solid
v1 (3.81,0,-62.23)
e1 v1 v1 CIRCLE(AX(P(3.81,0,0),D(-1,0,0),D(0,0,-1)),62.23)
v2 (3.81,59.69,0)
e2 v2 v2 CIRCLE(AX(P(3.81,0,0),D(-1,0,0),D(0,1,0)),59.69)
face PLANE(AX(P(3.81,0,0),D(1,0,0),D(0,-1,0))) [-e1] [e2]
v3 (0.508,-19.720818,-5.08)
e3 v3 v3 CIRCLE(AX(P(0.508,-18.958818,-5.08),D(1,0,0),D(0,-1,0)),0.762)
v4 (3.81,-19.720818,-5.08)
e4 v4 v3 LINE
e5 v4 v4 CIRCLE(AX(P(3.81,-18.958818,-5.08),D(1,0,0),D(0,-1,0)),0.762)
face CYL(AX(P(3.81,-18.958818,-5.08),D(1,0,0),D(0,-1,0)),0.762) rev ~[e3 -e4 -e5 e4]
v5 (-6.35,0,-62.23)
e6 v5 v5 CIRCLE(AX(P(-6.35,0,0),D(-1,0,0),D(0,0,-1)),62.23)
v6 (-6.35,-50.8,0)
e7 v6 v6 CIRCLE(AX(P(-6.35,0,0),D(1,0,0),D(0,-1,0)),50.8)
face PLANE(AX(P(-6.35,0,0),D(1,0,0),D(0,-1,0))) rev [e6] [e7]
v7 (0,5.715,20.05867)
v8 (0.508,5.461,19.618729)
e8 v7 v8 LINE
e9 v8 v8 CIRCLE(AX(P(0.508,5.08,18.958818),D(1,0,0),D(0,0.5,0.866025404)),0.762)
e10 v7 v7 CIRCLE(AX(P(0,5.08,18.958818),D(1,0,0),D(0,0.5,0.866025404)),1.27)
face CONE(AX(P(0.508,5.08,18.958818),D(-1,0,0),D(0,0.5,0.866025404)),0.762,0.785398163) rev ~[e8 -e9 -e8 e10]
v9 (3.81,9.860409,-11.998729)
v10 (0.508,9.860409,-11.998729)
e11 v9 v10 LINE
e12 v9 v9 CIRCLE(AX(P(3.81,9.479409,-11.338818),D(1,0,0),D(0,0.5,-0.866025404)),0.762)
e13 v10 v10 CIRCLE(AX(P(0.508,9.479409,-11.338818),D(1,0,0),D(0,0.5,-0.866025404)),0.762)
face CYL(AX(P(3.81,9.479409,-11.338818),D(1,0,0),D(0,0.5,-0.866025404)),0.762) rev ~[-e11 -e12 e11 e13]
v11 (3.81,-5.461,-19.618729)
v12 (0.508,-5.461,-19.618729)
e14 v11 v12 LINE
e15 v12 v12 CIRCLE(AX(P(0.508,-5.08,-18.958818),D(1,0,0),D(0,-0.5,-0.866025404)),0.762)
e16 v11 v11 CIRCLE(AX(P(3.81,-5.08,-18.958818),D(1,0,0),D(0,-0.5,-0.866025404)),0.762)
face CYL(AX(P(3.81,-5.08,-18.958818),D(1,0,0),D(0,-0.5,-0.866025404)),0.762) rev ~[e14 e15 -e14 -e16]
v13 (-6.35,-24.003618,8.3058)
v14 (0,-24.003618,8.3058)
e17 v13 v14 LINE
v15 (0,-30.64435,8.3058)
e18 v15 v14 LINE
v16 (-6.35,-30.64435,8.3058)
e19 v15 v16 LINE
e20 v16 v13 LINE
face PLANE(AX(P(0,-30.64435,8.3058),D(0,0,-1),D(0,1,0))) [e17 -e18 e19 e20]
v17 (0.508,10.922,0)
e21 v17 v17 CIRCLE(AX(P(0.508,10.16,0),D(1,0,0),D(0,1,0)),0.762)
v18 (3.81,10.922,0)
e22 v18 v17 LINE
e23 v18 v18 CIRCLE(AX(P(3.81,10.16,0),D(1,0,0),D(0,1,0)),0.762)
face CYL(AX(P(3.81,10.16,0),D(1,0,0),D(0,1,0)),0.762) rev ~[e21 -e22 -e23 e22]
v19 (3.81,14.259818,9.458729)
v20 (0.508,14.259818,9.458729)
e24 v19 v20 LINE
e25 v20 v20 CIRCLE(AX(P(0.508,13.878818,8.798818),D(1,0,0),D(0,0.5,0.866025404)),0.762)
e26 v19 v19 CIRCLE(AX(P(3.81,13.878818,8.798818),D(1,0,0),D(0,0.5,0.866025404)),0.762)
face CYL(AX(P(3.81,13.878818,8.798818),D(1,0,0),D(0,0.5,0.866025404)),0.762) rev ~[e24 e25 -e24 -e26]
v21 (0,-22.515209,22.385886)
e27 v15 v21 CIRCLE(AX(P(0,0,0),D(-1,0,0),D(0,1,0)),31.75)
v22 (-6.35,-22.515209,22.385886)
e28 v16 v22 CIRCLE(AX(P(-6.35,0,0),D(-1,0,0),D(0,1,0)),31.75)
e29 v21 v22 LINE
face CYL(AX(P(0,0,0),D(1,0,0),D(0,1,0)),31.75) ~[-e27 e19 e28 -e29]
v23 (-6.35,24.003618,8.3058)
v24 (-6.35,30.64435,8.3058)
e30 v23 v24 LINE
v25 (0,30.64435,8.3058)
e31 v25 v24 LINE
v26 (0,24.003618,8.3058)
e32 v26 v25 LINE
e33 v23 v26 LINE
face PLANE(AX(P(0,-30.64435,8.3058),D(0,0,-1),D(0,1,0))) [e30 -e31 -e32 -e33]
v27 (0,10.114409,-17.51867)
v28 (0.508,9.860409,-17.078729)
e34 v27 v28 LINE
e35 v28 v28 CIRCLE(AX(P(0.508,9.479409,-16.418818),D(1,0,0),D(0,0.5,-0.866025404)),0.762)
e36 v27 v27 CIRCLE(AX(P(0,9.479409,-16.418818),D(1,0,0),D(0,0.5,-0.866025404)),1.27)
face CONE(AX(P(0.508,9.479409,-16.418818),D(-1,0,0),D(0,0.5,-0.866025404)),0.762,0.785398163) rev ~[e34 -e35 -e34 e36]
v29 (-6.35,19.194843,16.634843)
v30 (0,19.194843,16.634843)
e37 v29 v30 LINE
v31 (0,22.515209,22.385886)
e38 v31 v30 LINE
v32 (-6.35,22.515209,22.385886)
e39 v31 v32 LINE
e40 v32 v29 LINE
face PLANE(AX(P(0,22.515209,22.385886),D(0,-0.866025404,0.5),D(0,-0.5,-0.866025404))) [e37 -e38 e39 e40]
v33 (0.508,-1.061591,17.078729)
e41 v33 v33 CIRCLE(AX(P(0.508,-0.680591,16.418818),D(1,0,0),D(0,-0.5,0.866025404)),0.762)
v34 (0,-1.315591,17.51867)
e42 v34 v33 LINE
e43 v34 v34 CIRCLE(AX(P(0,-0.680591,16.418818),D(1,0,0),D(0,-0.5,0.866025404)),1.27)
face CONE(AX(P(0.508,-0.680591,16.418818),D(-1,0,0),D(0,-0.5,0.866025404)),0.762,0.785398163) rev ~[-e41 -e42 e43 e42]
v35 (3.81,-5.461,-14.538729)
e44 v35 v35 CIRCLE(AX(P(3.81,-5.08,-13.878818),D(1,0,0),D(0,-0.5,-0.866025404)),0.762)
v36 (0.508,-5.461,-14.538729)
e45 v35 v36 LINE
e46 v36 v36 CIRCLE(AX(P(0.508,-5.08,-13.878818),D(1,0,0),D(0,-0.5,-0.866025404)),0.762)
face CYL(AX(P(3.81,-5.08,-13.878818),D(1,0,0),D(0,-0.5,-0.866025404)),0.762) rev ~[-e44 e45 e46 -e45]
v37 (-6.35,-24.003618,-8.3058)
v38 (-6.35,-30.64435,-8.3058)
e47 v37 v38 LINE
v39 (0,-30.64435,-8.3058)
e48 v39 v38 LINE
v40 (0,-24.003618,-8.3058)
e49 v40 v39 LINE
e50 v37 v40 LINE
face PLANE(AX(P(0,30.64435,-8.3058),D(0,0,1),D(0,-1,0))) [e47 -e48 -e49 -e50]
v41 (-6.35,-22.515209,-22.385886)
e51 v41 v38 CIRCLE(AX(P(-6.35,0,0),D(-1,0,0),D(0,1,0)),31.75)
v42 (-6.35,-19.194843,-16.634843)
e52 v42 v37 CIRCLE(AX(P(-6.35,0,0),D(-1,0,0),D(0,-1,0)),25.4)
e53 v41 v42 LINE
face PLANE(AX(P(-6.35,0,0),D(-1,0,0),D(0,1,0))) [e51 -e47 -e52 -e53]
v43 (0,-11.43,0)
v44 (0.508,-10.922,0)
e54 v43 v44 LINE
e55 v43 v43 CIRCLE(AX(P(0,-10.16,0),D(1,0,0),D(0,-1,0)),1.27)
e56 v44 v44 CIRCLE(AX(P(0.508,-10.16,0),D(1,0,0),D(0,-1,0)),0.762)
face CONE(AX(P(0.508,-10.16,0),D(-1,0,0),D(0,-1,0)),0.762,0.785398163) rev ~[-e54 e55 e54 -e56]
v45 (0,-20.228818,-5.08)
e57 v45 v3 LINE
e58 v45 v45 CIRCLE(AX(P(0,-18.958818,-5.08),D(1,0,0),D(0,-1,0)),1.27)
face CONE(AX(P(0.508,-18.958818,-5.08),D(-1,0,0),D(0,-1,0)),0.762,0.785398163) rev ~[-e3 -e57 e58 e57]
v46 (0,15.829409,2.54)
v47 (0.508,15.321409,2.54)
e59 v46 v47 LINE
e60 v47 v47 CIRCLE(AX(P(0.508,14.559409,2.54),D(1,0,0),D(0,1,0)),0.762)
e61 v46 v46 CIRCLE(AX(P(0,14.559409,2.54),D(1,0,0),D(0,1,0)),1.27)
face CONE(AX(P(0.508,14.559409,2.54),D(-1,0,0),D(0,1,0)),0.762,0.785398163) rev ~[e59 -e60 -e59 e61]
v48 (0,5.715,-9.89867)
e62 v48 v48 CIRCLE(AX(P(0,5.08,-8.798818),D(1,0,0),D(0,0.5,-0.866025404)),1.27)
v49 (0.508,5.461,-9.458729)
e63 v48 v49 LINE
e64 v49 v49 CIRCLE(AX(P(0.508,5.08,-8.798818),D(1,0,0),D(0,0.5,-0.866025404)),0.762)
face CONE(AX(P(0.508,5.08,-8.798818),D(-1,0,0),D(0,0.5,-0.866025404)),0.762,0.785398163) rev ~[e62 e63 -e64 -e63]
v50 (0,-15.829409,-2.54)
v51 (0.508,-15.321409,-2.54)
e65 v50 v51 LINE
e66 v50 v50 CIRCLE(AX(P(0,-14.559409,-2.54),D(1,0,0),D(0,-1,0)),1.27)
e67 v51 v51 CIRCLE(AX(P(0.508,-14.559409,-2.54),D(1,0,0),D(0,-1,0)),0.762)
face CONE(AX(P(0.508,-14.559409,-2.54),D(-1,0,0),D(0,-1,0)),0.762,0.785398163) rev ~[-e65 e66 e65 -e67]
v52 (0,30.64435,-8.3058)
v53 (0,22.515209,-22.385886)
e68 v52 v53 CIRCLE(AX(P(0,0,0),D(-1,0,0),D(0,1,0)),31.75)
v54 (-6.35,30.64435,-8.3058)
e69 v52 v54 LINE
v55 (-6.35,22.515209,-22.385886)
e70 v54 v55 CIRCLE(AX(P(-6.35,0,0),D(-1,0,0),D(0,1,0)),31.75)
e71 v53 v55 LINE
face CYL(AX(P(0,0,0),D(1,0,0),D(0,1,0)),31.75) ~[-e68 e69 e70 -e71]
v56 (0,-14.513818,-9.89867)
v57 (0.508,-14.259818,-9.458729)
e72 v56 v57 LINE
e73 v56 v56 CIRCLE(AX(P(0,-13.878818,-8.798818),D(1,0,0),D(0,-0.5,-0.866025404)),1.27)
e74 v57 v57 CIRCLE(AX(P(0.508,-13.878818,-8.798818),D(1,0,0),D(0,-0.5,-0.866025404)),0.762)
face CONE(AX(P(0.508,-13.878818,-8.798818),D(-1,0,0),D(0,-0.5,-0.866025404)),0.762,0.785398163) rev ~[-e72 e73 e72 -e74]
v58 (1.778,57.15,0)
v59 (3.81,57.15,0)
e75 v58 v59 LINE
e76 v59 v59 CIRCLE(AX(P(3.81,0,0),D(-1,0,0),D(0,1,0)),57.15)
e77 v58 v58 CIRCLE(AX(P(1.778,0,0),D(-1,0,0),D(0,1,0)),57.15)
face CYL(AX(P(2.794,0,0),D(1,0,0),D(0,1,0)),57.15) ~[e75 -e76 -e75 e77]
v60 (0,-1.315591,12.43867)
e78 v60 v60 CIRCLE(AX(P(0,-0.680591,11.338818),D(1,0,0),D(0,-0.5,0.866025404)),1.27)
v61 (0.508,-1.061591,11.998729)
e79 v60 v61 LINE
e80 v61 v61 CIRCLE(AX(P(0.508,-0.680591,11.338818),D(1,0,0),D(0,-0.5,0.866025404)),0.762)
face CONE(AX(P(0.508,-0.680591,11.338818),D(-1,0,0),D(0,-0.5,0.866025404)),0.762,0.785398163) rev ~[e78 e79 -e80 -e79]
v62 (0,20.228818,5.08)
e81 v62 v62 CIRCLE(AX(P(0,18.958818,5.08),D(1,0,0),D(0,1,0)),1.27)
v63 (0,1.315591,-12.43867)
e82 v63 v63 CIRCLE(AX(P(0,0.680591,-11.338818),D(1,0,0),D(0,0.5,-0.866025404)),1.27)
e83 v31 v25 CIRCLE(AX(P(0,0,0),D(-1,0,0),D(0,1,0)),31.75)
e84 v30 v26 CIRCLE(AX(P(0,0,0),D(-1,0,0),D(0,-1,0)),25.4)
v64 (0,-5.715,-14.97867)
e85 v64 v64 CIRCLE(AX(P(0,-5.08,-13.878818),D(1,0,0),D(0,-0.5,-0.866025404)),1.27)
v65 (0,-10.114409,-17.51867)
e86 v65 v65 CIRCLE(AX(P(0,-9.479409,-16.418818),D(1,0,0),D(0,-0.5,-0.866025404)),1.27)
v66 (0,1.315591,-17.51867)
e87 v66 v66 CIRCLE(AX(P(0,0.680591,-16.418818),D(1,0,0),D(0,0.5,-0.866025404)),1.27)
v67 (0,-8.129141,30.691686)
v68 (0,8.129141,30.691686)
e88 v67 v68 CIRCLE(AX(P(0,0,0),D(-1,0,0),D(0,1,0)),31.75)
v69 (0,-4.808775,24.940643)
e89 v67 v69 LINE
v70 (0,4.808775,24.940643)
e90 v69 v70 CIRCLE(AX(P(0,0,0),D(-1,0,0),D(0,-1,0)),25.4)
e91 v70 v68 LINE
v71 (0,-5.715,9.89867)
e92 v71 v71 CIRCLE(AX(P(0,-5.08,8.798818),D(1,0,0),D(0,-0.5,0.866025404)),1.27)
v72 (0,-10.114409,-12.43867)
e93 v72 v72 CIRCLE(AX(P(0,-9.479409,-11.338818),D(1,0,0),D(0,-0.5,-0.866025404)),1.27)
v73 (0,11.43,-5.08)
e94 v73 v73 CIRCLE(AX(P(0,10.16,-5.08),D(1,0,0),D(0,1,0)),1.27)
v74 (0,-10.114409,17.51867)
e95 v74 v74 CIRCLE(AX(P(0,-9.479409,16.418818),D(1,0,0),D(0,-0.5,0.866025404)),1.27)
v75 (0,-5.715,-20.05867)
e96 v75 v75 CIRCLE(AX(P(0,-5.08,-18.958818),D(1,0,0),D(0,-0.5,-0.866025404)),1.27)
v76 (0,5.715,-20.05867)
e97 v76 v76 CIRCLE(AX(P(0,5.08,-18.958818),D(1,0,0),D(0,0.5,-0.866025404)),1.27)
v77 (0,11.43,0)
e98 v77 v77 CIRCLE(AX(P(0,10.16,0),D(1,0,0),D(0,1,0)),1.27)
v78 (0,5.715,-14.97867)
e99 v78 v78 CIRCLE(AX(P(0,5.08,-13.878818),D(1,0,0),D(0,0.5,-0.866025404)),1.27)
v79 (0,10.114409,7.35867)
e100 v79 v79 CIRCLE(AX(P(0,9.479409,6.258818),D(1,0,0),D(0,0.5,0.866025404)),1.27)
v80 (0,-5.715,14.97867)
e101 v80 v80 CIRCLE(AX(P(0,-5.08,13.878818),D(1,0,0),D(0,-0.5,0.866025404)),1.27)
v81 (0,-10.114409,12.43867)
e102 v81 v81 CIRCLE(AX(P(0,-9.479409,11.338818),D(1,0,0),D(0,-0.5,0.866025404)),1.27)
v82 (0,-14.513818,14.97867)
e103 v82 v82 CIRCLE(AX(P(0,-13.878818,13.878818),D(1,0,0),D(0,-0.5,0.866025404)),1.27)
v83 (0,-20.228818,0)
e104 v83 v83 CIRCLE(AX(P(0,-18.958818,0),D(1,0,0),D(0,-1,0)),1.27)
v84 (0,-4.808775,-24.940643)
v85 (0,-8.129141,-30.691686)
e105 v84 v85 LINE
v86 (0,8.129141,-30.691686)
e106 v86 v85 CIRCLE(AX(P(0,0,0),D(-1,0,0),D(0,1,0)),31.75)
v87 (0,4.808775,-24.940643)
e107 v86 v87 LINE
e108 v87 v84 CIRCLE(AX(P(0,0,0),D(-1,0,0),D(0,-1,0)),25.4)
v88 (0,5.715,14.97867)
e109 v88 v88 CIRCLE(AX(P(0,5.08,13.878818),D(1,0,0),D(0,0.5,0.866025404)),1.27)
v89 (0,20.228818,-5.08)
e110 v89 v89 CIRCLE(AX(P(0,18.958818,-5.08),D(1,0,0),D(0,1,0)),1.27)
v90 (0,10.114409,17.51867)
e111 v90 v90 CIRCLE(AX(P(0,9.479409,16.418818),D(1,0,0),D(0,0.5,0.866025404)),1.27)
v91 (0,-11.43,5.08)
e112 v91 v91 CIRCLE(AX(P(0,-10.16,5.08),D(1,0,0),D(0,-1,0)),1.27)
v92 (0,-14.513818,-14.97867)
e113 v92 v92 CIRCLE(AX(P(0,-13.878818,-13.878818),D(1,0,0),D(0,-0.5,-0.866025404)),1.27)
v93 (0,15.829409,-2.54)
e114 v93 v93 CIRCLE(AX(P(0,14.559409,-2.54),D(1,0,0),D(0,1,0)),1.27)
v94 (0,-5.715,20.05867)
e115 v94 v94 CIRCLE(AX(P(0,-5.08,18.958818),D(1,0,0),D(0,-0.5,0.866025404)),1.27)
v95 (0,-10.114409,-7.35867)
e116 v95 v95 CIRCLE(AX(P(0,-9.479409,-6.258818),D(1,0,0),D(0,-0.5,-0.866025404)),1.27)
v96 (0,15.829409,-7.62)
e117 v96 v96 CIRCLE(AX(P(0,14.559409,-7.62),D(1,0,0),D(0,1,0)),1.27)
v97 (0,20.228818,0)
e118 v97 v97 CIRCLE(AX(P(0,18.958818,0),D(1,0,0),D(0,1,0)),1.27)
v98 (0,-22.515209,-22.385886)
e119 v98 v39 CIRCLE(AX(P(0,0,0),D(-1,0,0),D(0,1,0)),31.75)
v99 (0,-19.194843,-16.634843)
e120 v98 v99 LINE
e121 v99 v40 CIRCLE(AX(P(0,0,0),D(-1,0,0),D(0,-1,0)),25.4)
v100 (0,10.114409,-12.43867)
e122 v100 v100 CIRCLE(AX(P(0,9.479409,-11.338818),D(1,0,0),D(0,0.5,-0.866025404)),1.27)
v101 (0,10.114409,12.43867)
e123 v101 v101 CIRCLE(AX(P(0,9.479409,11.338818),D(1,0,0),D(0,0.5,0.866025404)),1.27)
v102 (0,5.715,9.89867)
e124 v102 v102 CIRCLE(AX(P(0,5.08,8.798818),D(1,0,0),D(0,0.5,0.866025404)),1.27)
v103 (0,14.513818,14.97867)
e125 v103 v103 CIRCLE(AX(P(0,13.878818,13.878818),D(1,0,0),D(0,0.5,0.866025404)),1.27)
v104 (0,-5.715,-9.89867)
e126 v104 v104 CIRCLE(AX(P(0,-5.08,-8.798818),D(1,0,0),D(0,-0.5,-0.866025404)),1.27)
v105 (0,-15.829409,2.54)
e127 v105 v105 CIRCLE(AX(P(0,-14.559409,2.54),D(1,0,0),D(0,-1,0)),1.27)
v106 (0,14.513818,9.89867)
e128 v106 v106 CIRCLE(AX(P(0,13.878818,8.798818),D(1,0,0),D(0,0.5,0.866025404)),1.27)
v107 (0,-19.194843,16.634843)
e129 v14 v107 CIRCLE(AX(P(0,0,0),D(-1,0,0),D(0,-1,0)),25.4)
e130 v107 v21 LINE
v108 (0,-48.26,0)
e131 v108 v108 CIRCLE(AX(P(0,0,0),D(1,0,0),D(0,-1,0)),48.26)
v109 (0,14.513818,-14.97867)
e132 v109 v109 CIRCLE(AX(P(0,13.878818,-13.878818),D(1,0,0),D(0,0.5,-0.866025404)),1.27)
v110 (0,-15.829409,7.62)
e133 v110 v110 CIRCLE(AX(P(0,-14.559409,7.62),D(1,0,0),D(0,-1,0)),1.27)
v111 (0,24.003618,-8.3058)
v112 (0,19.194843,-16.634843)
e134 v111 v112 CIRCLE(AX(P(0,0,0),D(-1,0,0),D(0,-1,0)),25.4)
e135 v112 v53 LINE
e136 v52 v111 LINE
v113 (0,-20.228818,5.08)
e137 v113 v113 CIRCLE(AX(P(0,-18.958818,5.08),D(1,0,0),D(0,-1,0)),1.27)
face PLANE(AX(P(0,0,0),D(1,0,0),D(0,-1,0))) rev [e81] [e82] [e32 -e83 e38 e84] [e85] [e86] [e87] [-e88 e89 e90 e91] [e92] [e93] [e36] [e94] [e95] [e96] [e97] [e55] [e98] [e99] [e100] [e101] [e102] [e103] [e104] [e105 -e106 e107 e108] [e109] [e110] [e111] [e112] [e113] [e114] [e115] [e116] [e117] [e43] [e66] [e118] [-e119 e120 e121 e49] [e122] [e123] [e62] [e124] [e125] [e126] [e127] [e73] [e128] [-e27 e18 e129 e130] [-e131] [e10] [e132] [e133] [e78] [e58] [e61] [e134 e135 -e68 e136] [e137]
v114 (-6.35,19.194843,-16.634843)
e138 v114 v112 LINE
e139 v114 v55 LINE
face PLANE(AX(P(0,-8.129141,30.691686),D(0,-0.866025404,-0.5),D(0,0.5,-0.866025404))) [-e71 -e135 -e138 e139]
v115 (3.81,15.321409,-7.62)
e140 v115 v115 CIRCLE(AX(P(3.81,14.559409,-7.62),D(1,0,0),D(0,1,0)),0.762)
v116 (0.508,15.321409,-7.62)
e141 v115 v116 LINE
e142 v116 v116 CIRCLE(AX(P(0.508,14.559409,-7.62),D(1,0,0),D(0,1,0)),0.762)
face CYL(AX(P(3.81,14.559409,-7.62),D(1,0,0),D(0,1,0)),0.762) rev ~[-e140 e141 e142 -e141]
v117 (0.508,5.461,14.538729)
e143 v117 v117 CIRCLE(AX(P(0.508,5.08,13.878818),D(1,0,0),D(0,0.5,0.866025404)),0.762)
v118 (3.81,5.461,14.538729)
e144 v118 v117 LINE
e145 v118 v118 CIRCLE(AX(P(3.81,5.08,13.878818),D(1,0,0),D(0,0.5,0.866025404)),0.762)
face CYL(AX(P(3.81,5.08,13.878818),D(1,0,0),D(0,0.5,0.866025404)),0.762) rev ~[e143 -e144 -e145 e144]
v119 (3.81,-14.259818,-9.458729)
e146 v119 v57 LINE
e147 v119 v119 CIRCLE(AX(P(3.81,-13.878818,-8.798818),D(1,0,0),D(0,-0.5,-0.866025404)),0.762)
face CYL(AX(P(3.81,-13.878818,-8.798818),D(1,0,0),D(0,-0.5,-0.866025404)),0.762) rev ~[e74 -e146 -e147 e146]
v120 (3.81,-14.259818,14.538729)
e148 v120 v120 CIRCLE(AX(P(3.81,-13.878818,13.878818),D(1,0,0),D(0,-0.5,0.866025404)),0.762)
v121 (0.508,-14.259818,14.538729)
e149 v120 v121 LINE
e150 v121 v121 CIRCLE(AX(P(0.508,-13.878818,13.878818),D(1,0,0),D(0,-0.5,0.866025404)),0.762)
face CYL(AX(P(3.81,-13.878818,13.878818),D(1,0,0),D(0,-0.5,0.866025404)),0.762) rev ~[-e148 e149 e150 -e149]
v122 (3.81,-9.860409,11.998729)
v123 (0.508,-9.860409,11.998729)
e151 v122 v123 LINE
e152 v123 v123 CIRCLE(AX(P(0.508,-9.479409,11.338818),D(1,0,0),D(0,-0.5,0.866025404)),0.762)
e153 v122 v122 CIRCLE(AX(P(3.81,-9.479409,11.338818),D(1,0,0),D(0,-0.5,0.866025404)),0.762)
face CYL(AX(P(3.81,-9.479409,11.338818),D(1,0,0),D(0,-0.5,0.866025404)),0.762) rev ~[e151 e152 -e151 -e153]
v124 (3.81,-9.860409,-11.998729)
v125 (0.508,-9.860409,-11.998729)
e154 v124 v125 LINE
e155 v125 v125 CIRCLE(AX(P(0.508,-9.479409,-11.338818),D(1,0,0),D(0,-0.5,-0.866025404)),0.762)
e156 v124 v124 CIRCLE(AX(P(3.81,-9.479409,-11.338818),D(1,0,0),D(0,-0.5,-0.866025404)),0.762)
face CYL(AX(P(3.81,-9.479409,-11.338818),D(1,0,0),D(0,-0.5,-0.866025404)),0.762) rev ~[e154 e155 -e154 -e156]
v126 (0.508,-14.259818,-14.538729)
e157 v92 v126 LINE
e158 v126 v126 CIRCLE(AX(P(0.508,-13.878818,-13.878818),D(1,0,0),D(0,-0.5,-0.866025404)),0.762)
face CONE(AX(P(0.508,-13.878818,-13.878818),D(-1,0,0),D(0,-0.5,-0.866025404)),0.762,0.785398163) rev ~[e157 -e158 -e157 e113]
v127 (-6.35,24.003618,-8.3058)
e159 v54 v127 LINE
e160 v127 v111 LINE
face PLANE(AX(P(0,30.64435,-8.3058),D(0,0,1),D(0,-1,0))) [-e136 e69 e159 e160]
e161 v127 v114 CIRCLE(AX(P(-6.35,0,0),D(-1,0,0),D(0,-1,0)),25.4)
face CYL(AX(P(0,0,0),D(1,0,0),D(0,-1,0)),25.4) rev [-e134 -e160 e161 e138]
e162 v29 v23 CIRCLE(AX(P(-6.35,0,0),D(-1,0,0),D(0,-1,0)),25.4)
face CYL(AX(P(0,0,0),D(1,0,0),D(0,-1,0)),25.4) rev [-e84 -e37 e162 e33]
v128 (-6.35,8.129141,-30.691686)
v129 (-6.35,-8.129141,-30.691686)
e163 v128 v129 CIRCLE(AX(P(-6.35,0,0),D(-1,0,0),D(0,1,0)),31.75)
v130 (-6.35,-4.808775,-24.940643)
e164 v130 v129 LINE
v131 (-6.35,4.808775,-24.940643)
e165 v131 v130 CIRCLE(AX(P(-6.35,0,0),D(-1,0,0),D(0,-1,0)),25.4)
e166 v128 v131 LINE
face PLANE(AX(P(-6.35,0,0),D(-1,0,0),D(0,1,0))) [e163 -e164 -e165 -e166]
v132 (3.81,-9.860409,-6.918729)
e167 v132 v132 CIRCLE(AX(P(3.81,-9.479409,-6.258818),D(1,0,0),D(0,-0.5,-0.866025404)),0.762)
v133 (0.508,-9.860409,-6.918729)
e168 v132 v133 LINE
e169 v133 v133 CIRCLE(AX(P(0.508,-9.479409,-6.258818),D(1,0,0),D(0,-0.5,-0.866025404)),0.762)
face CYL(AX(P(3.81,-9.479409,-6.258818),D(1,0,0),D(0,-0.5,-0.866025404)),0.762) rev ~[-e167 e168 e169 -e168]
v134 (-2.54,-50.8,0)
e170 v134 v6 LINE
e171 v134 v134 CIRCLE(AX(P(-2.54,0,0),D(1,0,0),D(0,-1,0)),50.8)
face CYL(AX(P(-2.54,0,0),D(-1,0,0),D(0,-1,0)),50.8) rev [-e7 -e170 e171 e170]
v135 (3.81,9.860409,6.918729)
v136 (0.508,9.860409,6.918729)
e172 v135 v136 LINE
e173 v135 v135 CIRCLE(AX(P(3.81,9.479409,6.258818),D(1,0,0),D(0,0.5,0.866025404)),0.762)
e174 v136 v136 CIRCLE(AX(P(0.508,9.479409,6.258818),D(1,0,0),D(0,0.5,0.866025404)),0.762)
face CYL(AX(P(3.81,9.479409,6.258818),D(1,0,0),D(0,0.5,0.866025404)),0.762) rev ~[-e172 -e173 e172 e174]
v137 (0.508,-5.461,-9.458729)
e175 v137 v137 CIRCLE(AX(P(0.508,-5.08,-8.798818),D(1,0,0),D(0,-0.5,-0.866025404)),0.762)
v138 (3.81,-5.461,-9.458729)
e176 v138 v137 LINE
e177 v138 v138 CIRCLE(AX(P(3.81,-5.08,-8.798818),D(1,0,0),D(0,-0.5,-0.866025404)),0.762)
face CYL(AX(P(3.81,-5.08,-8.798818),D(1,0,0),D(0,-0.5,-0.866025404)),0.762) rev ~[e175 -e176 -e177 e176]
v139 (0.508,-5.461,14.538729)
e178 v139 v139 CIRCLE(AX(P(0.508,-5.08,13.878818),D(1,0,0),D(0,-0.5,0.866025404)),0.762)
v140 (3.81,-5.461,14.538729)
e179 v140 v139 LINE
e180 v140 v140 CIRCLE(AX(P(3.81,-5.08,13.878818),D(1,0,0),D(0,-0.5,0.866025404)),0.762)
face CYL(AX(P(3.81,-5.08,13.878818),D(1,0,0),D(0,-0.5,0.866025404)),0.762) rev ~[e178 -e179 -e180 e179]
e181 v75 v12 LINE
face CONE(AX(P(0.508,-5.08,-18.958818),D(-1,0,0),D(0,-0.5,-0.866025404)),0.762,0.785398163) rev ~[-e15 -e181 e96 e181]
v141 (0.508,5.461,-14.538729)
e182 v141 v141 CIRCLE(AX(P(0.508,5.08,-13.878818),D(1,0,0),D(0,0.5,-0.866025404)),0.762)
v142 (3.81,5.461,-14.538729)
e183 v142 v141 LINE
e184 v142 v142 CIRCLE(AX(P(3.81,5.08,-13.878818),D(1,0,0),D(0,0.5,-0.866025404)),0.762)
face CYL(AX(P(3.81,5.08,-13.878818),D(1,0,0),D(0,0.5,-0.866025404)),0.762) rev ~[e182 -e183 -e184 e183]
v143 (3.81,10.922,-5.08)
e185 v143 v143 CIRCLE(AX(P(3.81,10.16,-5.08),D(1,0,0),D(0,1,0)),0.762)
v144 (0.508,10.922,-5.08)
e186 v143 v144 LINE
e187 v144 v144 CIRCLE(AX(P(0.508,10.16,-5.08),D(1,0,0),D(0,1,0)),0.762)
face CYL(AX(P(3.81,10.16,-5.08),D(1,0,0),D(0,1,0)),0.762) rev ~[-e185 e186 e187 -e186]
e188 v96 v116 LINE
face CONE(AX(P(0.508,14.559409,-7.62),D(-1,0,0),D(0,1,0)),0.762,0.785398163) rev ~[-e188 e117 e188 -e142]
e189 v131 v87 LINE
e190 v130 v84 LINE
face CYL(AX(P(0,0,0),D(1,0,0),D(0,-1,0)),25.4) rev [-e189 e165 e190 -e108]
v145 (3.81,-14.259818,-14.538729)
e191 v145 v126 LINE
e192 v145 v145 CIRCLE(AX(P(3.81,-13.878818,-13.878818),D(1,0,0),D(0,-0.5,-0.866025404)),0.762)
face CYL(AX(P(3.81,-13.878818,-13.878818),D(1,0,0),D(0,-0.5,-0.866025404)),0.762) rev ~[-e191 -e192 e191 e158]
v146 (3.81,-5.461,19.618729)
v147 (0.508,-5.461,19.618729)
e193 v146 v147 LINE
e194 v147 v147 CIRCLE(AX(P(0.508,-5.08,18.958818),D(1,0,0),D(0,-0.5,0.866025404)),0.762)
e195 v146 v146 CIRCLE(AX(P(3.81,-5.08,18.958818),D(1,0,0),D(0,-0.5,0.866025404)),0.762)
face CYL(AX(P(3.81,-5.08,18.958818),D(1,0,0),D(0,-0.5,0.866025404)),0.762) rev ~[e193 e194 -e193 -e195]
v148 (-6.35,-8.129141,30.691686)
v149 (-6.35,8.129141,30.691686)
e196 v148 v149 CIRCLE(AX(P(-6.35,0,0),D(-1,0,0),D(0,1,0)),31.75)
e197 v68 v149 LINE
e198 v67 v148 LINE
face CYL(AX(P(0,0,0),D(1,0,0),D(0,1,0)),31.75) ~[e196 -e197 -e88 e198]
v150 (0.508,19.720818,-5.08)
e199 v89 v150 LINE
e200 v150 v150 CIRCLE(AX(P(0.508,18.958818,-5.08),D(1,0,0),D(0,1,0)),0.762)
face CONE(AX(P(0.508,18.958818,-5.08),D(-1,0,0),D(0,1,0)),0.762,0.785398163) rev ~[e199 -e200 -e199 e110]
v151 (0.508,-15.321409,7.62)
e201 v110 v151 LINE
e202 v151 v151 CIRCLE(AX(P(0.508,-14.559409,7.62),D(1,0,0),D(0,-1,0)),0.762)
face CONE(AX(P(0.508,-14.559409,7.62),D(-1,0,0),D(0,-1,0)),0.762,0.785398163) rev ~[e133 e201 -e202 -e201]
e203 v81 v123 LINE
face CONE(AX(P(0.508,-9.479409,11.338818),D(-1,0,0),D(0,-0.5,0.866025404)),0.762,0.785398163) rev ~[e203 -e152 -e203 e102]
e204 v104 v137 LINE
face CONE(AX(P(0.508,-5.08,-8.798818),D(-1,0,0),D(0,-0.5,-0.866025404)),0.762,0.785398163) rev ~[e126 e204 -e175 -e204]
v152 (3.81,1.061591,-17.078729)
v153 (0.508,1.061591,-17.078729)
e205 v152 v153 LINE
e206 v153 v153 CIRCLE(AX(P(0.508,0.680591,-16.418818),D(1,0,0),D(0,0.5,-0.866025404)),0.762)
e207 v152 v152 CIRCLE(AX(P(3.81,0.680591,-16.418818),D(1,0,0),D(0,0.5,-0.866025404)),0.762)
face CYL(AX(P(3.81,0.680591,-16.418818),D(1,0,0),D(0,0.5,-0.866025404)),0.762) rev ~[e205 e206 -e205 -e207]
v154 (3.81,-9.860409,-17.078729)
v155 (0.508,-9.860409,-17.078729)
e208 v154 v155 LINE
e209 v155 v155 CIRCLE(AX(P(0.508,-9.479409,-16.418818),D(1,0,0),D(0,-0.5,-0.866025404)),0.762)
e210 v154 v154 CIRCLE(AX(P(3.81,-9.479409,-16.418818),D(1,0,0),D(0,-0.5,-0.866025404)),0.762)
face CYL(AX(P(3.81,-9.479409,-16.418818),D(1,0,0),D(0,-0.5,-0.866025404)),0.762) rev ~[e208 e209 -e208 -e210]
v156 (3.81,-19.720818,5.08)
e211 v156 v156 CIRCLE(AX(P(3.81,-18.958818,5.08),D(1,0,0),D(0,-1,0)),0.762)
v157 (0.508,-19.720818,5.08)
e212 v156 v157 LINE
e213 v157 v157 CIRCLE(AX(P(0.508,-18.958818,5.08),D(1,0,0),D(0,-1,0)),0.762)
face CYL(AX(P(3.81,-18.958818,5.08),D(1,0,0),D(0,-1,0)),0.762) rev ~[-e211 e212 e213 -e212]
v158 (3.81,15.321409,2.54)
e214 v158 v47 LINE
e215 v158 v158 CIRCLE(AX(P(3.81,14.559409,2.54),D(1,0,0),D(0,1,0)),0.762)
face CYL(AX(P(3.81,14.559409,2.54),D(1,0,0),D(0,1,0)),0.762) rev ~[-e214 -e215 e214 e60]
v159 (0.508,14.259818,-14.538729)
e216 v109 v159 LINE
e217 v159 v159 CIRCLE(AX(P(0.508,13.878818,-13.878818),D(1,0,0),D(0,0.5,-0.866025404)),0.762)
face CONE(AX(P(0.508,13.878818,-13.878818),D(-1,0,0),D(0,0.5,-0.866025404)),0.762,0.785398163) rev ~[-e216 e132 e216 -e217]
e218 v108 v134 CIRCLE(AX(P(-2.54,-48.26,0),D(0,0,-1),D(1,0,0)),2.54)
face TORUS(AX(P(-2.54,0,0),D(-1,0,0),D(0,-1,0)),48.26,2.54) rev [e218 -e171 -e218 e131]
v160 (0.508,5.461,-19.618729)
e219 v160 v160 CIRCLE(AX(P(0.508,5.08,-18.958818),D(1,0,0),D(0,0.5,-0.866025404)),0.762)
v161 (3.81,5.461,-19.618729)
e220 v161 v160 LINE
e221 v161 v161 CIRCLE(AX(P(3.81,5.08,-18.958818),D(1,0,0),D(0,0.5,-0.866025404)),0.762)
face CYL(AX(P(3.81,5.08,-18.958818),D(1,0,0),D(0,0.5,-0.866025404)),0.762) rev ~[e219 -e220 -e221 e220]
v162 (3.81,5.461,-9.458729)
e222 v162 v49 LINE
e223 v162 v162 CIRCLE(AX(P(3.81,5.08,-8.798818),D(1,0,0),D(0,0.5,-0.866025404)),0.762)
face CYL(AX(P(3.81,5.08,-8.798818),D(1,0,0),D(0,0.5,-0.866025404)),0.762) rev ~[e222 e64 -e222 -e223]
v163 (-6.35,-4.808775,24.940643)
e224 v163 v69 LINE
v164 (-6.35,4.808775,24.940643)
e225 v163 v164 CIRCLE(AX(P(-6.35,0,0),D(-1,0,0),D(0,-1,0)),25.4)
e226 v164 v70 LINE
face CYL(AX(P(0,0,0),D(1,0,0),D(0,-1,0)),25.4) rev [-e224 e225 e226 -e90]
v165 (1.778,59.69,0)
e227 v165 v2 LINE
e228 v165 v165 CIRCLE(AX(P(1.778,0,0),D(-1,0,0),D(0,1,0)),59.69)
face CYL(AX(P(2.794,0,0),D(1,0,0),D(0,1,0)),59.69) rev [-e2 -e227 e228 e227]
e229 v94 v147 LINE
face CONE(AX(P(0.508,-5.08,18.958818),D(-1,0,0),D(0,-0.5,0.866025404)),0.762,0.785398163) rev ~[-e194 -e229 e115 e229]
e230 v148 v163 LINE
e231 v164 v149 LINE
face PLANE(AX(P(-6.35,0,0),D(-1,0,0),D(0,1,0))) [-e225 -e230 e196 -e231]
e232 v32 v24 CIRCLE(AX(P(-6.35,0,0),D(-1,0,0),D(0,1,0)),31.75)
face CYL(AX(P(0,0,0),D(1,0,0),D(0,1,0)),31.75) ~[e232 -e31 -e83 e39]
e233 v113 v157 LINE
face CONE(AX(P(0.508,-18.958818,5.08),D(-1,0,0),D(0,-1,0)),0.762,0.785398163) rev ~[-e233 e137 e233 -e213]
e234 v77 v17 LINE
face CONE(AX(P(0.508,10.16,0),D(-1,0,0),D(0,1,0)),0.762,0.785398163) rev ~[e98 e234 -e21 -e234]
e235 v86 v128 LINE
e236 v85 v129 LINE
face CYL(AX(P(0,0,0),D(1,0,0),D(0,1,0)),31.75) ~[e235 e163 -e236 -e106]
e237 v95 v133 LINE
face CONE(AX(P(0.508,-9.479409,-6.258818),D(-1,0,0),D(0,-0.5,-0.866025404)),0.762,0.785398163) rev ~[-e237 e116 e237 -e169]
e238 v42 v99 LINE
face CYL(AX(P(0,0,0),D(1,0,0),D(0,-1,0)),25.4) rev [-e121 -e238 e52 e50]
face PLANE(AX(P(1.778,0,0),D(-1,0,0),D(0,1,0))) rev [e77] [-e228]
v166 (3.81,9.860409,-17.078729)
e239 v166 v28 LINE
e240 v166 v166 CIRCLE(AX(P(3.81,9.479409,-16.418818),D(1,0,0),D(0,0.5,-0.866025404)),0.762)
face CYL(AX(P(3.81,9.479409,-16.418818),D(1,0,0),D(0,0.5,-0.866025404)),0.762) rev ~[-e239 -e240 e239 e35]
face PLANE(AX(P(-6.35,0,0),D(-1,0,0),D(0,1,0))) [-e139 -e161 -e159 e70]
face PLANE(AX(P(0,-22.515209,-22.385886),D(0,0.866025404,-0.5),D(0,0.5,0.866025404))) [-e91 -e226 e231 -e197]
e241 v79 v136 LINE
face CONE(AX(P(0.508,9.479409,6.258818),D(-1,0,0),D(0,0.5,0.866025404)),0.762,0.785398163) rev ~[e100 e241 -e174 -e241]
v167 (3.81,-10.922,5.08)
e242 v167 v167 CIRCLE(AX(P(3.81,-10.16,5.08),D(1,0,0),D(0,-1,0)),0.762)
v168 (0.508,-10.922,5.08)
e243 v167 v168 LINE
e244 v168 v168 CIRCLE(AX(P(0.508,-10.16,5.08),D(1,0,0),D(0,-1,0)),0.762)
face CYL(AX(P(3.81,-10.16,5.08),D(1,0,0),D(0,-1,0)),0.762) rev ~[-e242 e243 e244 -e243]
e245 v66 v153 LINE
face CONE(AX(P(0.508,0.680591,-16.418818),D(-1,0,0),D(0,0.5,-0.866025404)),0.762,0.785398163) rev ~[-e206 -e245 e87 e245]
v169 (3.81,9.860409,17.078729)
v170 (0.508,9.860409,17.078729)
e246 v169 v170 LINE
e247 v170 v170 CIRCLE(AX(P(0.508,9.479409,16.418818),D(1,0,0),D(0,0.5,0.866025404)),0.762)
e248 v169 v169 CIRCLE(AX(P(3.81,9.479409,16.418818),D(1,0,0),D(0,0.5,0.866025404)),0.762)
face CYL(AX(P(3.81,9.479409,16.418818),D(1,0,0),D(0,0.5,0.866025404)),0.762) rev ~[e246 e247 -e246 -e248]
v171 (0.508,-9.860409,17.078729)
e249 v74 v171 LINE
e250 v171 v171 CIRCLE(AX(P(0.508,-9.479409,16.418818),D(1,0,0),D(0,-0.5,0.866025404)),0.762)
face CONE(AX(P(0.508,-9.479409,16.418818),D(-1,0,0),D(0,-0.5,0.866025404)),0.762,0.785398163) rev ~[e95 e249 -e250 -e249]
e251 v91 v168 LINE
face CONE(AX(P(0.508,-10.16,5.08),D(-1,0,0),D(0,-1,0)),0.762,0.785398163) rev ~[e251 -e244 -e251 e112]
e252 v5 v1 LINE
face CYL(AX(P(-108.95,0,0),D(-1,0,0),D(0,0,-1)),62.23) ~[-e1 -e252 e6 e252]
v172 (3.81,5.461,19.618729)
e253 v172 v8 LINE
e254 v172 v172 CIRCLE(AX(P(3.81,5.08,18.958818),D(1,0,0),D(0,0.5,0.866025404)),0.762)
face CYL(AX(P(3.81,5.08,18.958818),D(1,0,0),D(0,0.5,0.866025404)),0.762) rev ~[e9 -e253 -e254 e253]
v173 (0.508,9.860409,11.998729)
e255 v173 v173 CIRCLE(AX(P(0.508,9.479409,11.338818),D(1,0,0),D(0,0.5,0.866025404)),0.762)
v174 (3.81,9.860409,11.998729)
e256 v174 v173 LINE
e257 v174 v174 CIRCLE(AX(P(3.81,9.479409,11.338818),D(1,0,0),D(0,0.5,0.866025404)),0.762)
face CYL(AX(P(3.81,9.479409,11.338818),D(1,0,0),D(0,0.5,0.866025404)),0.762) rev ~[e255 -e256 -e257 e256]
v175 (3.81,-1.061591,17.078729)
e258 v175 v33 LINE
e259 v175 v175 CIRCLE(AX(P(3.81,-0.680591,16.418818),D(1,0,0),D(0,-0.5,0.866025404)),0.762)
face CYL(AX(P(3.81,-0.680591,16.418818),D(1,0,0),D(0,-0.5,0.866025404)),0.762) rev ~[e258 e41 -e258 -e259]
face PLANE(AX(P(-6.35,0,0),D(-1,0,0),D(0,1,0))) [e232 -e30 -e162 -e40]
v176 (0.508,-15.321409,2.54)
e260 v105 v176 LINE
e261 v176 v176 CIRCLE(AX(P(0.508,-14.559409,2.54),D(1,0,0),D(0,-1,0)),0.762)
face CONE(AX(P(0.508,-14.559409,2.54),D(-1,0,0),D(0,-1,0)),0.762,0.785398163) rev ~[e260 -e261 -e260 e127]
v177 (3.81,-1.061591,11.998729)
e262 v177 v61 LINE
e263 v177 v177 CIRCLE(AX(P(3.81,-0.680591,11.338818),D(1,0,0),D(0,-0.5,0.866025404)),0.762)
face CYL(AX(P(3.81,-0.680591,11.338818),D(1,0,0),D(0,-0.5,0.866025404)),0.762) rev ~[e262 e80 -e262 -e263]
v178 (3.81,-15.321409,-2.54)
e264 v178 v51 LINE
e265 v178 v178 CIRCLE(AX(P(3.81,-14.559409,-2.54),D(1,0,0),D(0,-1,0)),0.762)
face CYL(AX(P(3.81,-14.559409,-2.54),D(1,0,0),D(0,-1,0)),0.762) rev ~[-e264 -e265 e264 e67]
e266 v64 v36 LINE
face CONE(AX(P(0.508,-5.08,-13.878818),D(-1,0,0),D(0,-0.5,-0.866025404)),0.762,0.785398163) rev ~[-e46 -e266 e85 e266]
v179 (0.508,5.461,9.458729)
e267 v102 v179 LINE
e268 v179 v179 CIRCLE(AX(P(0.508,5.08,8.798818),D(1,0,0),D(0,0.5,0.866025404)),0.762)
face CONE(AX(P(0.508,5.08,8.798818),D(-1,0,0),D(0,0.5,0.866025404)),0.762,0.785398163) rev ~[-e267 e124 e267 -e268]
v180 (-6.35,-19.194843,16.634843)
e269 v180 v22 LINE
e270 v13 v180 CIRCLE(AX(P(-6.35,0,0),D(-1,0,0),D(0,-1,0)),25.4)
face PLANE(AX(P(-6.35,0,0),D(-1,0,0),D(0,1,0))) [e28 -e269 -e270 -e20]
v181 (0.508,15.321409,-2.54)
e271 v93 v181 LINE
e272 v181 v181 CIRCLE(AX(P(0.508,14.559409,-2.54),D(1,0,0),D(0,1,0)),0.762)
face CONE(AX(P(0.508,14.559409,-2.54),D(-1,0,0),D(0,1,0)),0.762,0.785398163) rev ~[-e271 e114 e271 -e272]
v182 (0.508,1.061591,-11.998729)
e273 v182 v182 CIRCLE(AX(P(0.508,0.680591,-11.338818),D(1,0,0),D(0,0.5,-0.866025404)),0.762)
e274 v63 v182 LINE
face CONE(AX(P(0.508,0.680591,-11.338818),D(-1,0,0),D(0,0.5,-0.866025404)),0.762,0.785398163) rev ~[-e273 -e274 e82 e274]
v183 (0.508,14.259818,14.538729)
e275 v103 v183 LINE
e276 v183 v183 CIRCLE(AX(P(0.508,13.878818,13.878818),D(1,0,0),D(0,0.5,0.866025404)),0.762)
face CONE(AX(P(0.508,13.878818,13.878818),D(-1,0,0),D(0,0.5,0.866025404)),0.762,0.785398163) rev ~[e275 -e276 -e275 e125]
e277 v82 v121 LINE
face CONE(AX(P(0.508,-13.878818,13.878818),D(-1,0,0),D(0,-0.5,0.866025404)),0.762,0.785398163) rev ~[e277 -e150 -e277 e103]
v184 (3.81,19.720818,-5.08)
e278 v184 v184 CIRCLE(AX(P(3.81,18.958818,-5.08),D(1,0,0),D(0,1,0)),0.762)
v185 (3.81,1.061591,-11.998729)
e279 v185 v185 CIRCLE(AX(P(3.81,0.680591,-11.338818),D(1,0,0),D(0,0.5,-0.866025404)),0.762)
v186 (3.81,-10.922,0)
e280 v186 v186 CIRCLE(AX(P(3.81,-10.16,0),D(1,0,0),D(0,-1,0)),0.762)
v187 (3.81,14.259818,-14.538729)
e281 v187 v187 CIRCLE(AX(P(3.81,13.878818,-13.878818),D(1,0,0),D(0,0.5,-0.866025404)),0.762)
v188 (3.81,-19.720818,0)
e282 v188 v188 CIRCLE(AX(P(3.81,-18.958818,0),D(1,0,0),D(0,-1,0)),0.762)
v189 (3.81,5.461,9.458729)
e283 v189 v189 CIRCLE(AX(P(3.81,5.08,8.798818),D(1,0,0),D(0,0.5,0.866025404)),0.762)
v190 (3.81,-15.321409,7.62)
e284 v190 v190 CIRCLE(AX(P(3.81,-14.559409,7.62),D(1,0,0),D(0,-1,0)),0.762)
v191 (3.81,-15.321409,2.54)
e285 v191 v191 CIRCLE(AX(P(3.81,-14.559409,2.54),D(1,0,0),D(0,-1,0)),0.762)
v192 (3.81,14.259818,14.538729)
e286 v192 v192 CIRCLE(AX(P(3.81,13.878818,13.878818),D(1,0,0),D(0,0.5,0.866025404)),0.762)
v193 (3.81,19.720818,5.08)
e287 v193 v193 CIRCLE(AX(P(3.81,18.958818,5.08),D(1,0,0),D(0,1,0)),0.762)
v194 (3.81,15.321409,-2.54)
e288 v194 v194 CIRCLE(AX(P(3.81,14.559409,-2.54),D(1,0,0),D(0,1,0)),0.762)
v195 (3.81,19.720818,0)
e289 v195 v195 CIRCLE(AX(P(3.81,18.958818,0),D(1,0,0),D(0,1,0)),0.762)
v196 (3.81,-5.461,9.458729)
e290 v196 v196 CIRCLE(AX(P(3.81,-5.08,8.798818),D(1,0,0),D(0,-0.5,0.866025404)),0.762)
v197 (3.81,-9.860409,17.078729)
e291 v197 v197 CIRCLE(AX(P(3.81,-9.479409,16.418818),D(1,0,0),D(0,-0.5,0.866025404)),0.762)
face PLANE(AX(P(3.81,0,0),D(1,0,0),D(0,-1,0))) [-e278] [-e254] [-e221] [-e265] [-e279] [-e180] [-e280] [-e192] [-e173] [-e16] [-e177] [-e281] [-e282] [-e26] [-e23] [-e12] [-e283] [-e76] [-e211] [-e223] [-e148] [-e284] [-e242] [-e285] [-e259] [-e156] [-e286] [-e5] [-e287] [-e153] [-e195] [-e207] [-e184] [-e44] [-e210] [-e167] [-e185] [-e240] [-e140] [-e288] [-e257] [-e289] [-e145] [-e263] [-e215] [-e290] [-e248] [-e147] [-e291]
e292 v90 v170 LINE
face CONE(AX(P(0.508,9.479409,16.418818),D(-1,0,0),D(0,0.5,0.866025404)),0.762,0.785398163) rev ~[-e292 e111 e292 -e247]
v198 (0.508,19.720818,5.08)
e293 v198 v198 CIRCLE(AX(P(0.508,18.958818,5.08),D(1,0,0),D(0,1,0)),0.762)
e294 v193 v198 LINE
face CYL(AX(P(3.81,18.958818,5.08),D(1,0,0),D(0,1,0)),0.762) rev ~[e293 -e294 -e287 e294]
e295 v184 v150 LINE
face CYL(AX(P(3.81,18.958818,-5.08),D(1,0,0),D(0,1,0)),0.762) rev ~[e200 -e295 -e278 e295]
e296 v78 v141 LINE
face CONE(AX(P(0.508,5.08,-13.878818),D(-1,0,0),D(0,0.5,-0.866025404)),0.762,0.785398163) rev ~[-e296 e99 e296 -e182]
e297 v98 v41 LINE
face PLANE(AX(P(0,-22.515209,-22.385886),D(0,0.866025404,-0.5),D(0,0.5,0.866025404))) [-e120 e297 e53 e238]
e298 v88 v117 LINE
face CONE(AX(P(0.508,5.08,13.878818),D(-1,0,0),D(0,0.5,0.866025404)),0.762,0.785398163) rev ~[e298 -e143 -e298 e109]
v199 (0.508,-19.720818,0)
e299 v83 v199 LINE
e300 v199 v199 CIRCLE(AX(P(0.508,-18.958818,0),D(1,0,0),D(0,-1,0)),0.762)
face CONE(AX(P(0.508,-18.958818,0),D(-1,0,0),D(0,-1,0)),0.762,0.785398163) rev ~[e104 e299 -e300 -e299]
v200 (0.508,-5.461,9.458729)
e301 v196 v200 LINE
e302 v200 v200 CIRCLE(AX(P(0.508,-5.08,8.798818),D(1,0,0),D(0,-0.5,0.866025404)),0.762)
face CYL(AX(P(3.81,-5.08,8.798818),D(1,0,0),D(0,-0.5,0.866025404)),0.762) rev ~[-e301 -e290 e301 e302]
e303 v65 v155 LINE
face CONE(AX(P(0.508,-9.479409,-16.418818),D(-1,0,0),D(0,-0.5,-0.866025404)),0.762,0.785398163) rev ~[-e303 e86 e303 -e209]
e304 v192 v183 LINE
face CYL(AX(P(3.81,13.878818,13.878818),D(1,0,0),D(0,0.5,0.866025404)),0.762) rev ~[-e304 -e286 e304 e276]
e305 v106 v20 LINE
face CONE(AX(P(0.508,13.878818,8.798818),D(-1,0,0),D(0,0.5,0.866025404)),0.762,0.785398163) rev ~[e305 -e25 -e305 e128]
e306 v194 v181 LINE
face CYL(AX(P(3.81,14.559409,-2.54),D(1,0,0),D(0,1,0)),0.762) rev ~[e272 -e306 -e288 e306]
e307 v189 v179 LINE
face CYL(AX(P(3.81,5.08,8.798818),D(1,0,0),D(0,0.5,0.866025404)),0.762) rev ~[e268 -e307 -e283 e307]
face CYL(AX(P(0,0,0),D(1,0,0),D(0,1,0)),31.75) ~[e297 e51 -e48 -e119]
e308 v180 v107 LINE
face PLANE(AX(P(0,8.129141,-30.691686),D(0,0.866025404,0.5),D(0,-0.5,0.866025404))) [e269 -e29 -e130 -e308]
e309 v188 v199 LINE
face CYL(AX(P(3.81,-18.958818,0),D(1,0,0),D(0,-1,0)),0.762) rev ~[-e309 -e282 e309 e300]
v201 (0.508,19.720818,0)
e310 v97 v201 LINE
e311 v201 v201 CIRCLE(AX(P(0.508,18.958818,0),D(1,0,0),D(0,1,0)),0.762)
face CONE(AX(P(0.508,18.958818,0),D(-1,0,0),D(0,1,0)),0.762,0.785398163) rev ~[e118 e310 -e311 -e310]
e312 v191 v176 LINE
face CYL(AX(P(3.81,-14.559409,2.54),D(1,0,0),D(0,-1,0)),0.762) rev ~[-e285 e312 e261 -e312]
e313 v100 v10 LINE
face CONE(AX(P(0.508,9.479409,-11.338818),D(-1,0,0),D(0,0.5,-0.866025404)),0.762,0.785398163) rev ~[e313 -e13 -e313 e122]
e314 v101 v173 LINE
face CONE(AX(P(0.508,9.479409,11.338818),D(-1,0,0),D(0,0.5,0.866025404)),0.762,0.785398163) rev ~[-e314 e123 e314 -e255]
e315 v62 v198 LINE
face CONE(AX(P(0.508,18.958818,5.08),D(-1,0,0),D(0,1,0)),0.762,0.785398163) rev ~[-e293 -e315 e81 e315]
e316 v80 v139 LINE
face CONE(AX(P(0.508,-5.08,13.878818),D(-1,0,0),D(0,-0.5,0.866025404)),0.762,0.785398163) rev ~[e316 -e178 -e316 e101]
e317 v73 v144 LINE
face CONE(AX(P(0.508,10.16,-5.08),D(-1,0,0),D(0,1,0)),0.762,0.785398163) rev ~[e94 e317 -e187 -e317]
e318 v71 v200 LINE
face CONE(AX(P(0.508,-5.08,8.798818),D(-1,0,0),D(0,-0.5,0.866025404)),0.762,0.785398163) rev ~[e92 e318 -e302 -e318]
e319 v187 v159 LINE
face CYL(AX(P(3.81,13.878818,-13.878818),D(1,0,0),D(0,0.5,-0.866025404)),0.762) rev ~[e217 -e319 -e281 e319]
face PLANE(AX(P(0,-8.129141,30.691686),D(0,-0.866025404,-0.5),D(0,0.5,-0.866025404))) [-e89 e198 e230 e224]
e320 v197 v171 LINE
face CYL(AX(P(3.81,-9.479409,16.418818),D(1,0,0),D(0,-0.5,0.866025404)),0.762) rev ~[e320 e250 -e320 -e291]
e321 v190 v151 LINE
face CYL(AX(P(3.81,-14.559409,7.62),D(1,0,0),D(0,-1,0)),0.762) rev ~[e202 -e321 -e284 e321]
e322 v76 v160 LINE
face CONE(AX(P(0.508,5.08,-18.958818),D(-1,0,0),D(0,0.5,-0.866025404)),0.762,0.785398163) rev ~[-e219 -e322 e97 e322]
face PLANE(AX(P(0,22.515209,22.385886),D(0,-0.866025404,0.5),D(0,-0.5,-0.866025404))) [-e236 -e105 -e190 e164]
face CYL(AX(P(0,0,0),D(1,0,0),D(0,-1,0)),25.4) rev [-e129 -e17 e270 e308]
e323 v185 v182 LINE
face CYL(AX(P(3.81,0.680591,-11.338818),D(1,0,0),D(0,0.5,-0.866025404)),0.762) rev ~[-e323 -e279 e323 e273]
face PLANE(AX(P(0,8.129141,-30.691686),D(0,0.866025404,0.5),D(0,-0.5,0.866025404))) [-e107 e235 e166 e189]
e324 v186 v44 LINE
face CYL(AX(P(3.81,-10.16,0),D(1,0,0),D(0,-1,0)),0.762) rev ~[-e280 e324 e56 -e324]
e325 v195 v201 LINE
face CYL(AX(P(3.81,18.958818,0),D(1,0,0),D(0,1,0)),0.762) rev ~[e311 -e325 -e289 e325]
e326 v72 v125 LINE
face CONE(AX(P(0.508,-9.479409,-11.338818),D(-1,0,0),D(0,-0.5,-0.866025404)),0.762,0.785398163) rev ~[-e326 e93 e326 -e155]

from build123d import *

# Parameters (mm, degrees)
SKETCH2_R                    = 0.762
CUT_EXTRUDE1_DEPTH           = 109.240960824
CHAMFER1_SIZE                = 0.508
CIRPATTERN1_COUNT            = 6
CHAMFER1_OF_CIRPATTERN1_SIZE = 0.508
SKETCH3_R                    = 3.175
CUT_EXTRUDE2_DEPTH           = 109.240960824
CIRPATTERN2_COUNT            = 8
SKETCH4_W                    = 2.032
SKETCH4_H                    = 2.54
CUT_EXTRUDE3_DEPTH           = 108.95
CUT_EXTRUDE3_DEPTH_BACK      = 108.95
SKETCH5_R                    = 76.2
SKETCH5_R_2                  = 62.23
SKETCH6_R                    = 31.75
SKETCH6_R_2                  = 25.4
BOSS_EXTRUDE1_DEPTH          = 6.35
CUT_EXTRUDE4_START           = -6.35
CUT_EXTRUDE4_DEPTH           = 6.35
CIRPATTERN3_COUNT            = 6


with BuildPart() as part:
    # Sketch1 → Revolve1 (revolve)
    with BuildSketch(Plane.XY, mode=Mode.PRIVATE) as revolve1_sk:
        with BuildLine():
            Line((0, 0), (0, 48.26))
            ThreePointArc((0, 48.26), (-0.743948776, 50.056051224), (-2.54, 50.8))
            Line((-2.54, 50.8), (-6.35, 50.8))
            Line((-6.35, 50.8), (-6.35, 76.2))
            Line((-6.35, 76.2), (3.81, 76.2))
            Line((3.81, 76.2), (3.81, 0))
            Line((3.81, 0), (0, 0))
        make_face()
    revolve(revolve1_sk.sketch.rotate(Axis((-6.35, 0, 0), (1, 0, 0)), 180), axis=Axis((-6.35, 0, 0), (1, 0, 0)))

    # Sketch2 → Cut-Extrude1 (cut, through all)
    with BuildSketch(Plane(origin=(3.81, 0, 0), x_dir=(0, 0, -1), z_dir=(1, 0, 0))):
        with Locations(Location((0, 10.16, 0), (0, 0, 90))):
            Circle(SKETCH2_R)
        with Locations(Location((-2.54, 14.559409051, 0), (0, 0, 90))):
            Circle(SKETCH2_R)
        with Locations(Location((5.08, 10.16, 0), (0, 0, 90))):
            Circle(SKETCH2_R)
        with Locations(Location((-5.08, 18.958818102, 0), (0, 0, 90))):
            Circle(SKETCH2_R)
        with Locations(Location((0, 18.958818102, 0), (0, 0, 90))):
            Circle(SKETCH2_R)
        with Locations(Location((5.08, 18.958818102, 0), (0, 0, 90))):
            Circle(SKETCH2_R)
        with Locations(Location((7.62, 14.559409051, 0), (0, 0, 90))):
            Circle(SKETCH2_R)
        with Locations(Location((2.54, 14.559409051, 0), (0, 0, 90))):
            Circle(SKETCH2_R)
    cut_extrude1 = extrude(amount=-CUT_EXTRUDE1_DEPTH, mode=Mode.SUBTRACT)

    # Chamfer1
    chamfer1_edges = [part.edges().sort_by_distance(p)[0] for p in [
        (0, 18.196818102, 5.08),
        (0, 13.797409051, 2.54),
        (0, 18.196818102, 0),
        (0, 18.196818102, -5.08),
        (0, 13.797409051, -7.62),
        (0, 13.797409051, -2.54),
        (0, 9.398, 0),
        (0, 9.398, -5.08),
    ]]
    chamfer(chamfer1_edges, length=CHAMFER1_SIZE)

    # CirPattern1: Cut-Extrude1 ×6 about axis
    cirpattern1_axis = Axis((0, 0, 0), (1, 0, 0))
    for i in range(1, CIRPATTERN1_COUNT):
        add(cut_extrude1.rotate(cirpattern1_axis, i * 360 / CIRPATTERN1_COUNT), mode=Mode.SUBTRACT)

    # Chamfer1 of CirPattern1
    chamfer1_of_cirpattern1_edges = [part.edges().sort_by_distance(p)[0] for p in [
        (0, 4.699, 18.298906745),
        (0, 4.699, 13.218906745),
        (0, 9.098409051, 15.758906745),
        (0, 13.497818102, 13.218906745),
        (0, 13.497818102, 8.138906745),
        (0, 9.098409051, 10.678906745),
        (0, 4.699, 8.138906745),
        (0, 9.098409051, 5.598906745),
        (0, -13.497818102, 13.218906745),
        (0, -9.098409051, 10.678906745),
        (0, -9.098409051, 15.758906745),
        (0, -4.699, 18.298906745),
        (0, -0.299590949, 15.758906745),
        (0, -4.699, 13.218906745),
        (0, -4.699, 8.138906745),
        (0, -0.299590949, 10.678906745),
        (0, -18.196818102, -5.08),
        (0, -13.797409051, -2.54),
        (0, -18.196818102, 0),
        (0, -18.196818102, 5.08),
        (0, -13.797409051, 7.62),
        (0, -13.797409051, 2.54),
        (0, -9.398, 0),
        (0, -9.398, 5.08),
        (0, -4.699, -18.298906745),
        (0, -4.699, -13.218906745),
        (0, -9.098409051, -15.758906745),
        (0, -13.497818102, -13.218906745),
        (0, -13.497818102, -8.138906745),
        (0, -9.098409051, -10.678906745),
        (0, -4.699, -8.138906745),
        (0, -9.098409051, -5.598906745),
        (0, 13.497818102, -13.218906745),
        (0, 9.098409051, -10.678906745),
        (0, 9.098409051, -15.758906745),
        (0, 4.699, -18.298906745),
        (0, 0.299590949, -15.758906745),
        (0, 4.699, -13.218906745),
        (0, 4.699, -8.138906745),
        (0, 0.299590949, -10.678906745),
    ]]
    chamfer(chamfer1_of_cirpattern1_edges, length=CHAMFER1_OF_CIRPATTERN1_SIZE)

    # Sketch3 → Cut-Extrude2 (cut, through all)
    with BuildSketch(Plane(origin=(3.81, 0, 0), x_dir=(0, 0, -1), z_dir=(1, 0, 0))):
        with Locations(Location((-66.802, 0, 0), (0, 0, 90))):
            Circle(SKETCH3_R)
    cut_extrude2 = extrude(amount=-CUT_EXTRUDE2_DEPTH, mode=Mode.SUBTRACT)

    # CirPattern2: Cut-Extrude2 ×8 about axis
    cirpattern2_axis = Axis((0, 0, 0), (1, 0, 0))
    for i in range(1, CIRPATTERN2_COUNT):
        add(cut_extrude2.rotate(cirpattern2_axis, i * 360 / CIRPATTERN2_COUNT), mode=Mode.SUBTRACT)

    # Sketch4 → Cut-Revolve1 (revolve, cut)
    with BuildSketch(Plane.XY):
        with Locations((2.794, 58.42)):
            Rectangle(SKETCH4_W, SKETCH4_H)
    revolve(axis=Axis((0, 0, 0), (-1, 0, 0)), mode=Mode.SUBTRACT)

    # Sketch5 → Cut-Extrude3 (cut, two sides: drawn at the far end of the back side and taken through both)
    with BuildSketch(Plane(origin=(0, 0, 0), x_dir=(0, 0, -1), z_dir=(1, 0, 0)).offset(-CUT_EXTRUDE3_DEPTH_BACK)):
        Circle(SKETCH5_R)
        Circle(SKETCH5_R_2, mode=Mode.SUBTRACT)
    extrude(amount=CUT_EXTRUDE3_DEPTH + CUT_EXTRUDE3_DEPTH_BACK, mode=Mode.SUBTRACT)

    # Sketch6 → Boss-Extrude1 (add)
    with BuildSketch(Plane.ZY):
        with Locations(Location((0, 0, 0), (0, 0, 90))):
            Circle(SKETCH6_R)
        with Locations(Location((0, 0, 0), (0, 0, 270))):
            Circle(SKETCH6_R_2, mode=Mode.SUBTRACT)
    extrude(amount=BOSS_EXTRUDE1_DEPTH)

    # Sketch7 → Cut-Extrude4 (cut)
    with BuildSketch(Plane.ZY.offset(6.35).offset(CUT_EXTRUDE4_START)):
        with BuildLine():
            Line((8.3058, -30.644349991), (8.3058, 30.644349991))
            ThreePointArc((8.3058, 30.644349991), (0, 31.75), (-8.3058, 30.644349991))
            Line((-8.3058, 30.644349991), (-8.3058, -30.644349991))
            ThreePointArc((-8.3058, -30.644349991), (0, -31.75), (8.3058, -30.644349991))
        make_face()
    cut_extrude4 = extrude(amount=CUT_EXTRUDE4_DEPTH, mode=Mode.SUBTRACT)

    # CirPattern3: Cut-Extrude4 ×6 about axis
    cirpattern3_axis = Axis((0, 0, 0), (1, 0, 0))
    for i in range(1, CIRPATTERN3_COUNT):
        add(cut_extrude4.rotate(cirpattern3_axis, i * 360 / CIRPATTERN3_COUNT), mode=Mode.SUBTRACT)


solid = part.part
